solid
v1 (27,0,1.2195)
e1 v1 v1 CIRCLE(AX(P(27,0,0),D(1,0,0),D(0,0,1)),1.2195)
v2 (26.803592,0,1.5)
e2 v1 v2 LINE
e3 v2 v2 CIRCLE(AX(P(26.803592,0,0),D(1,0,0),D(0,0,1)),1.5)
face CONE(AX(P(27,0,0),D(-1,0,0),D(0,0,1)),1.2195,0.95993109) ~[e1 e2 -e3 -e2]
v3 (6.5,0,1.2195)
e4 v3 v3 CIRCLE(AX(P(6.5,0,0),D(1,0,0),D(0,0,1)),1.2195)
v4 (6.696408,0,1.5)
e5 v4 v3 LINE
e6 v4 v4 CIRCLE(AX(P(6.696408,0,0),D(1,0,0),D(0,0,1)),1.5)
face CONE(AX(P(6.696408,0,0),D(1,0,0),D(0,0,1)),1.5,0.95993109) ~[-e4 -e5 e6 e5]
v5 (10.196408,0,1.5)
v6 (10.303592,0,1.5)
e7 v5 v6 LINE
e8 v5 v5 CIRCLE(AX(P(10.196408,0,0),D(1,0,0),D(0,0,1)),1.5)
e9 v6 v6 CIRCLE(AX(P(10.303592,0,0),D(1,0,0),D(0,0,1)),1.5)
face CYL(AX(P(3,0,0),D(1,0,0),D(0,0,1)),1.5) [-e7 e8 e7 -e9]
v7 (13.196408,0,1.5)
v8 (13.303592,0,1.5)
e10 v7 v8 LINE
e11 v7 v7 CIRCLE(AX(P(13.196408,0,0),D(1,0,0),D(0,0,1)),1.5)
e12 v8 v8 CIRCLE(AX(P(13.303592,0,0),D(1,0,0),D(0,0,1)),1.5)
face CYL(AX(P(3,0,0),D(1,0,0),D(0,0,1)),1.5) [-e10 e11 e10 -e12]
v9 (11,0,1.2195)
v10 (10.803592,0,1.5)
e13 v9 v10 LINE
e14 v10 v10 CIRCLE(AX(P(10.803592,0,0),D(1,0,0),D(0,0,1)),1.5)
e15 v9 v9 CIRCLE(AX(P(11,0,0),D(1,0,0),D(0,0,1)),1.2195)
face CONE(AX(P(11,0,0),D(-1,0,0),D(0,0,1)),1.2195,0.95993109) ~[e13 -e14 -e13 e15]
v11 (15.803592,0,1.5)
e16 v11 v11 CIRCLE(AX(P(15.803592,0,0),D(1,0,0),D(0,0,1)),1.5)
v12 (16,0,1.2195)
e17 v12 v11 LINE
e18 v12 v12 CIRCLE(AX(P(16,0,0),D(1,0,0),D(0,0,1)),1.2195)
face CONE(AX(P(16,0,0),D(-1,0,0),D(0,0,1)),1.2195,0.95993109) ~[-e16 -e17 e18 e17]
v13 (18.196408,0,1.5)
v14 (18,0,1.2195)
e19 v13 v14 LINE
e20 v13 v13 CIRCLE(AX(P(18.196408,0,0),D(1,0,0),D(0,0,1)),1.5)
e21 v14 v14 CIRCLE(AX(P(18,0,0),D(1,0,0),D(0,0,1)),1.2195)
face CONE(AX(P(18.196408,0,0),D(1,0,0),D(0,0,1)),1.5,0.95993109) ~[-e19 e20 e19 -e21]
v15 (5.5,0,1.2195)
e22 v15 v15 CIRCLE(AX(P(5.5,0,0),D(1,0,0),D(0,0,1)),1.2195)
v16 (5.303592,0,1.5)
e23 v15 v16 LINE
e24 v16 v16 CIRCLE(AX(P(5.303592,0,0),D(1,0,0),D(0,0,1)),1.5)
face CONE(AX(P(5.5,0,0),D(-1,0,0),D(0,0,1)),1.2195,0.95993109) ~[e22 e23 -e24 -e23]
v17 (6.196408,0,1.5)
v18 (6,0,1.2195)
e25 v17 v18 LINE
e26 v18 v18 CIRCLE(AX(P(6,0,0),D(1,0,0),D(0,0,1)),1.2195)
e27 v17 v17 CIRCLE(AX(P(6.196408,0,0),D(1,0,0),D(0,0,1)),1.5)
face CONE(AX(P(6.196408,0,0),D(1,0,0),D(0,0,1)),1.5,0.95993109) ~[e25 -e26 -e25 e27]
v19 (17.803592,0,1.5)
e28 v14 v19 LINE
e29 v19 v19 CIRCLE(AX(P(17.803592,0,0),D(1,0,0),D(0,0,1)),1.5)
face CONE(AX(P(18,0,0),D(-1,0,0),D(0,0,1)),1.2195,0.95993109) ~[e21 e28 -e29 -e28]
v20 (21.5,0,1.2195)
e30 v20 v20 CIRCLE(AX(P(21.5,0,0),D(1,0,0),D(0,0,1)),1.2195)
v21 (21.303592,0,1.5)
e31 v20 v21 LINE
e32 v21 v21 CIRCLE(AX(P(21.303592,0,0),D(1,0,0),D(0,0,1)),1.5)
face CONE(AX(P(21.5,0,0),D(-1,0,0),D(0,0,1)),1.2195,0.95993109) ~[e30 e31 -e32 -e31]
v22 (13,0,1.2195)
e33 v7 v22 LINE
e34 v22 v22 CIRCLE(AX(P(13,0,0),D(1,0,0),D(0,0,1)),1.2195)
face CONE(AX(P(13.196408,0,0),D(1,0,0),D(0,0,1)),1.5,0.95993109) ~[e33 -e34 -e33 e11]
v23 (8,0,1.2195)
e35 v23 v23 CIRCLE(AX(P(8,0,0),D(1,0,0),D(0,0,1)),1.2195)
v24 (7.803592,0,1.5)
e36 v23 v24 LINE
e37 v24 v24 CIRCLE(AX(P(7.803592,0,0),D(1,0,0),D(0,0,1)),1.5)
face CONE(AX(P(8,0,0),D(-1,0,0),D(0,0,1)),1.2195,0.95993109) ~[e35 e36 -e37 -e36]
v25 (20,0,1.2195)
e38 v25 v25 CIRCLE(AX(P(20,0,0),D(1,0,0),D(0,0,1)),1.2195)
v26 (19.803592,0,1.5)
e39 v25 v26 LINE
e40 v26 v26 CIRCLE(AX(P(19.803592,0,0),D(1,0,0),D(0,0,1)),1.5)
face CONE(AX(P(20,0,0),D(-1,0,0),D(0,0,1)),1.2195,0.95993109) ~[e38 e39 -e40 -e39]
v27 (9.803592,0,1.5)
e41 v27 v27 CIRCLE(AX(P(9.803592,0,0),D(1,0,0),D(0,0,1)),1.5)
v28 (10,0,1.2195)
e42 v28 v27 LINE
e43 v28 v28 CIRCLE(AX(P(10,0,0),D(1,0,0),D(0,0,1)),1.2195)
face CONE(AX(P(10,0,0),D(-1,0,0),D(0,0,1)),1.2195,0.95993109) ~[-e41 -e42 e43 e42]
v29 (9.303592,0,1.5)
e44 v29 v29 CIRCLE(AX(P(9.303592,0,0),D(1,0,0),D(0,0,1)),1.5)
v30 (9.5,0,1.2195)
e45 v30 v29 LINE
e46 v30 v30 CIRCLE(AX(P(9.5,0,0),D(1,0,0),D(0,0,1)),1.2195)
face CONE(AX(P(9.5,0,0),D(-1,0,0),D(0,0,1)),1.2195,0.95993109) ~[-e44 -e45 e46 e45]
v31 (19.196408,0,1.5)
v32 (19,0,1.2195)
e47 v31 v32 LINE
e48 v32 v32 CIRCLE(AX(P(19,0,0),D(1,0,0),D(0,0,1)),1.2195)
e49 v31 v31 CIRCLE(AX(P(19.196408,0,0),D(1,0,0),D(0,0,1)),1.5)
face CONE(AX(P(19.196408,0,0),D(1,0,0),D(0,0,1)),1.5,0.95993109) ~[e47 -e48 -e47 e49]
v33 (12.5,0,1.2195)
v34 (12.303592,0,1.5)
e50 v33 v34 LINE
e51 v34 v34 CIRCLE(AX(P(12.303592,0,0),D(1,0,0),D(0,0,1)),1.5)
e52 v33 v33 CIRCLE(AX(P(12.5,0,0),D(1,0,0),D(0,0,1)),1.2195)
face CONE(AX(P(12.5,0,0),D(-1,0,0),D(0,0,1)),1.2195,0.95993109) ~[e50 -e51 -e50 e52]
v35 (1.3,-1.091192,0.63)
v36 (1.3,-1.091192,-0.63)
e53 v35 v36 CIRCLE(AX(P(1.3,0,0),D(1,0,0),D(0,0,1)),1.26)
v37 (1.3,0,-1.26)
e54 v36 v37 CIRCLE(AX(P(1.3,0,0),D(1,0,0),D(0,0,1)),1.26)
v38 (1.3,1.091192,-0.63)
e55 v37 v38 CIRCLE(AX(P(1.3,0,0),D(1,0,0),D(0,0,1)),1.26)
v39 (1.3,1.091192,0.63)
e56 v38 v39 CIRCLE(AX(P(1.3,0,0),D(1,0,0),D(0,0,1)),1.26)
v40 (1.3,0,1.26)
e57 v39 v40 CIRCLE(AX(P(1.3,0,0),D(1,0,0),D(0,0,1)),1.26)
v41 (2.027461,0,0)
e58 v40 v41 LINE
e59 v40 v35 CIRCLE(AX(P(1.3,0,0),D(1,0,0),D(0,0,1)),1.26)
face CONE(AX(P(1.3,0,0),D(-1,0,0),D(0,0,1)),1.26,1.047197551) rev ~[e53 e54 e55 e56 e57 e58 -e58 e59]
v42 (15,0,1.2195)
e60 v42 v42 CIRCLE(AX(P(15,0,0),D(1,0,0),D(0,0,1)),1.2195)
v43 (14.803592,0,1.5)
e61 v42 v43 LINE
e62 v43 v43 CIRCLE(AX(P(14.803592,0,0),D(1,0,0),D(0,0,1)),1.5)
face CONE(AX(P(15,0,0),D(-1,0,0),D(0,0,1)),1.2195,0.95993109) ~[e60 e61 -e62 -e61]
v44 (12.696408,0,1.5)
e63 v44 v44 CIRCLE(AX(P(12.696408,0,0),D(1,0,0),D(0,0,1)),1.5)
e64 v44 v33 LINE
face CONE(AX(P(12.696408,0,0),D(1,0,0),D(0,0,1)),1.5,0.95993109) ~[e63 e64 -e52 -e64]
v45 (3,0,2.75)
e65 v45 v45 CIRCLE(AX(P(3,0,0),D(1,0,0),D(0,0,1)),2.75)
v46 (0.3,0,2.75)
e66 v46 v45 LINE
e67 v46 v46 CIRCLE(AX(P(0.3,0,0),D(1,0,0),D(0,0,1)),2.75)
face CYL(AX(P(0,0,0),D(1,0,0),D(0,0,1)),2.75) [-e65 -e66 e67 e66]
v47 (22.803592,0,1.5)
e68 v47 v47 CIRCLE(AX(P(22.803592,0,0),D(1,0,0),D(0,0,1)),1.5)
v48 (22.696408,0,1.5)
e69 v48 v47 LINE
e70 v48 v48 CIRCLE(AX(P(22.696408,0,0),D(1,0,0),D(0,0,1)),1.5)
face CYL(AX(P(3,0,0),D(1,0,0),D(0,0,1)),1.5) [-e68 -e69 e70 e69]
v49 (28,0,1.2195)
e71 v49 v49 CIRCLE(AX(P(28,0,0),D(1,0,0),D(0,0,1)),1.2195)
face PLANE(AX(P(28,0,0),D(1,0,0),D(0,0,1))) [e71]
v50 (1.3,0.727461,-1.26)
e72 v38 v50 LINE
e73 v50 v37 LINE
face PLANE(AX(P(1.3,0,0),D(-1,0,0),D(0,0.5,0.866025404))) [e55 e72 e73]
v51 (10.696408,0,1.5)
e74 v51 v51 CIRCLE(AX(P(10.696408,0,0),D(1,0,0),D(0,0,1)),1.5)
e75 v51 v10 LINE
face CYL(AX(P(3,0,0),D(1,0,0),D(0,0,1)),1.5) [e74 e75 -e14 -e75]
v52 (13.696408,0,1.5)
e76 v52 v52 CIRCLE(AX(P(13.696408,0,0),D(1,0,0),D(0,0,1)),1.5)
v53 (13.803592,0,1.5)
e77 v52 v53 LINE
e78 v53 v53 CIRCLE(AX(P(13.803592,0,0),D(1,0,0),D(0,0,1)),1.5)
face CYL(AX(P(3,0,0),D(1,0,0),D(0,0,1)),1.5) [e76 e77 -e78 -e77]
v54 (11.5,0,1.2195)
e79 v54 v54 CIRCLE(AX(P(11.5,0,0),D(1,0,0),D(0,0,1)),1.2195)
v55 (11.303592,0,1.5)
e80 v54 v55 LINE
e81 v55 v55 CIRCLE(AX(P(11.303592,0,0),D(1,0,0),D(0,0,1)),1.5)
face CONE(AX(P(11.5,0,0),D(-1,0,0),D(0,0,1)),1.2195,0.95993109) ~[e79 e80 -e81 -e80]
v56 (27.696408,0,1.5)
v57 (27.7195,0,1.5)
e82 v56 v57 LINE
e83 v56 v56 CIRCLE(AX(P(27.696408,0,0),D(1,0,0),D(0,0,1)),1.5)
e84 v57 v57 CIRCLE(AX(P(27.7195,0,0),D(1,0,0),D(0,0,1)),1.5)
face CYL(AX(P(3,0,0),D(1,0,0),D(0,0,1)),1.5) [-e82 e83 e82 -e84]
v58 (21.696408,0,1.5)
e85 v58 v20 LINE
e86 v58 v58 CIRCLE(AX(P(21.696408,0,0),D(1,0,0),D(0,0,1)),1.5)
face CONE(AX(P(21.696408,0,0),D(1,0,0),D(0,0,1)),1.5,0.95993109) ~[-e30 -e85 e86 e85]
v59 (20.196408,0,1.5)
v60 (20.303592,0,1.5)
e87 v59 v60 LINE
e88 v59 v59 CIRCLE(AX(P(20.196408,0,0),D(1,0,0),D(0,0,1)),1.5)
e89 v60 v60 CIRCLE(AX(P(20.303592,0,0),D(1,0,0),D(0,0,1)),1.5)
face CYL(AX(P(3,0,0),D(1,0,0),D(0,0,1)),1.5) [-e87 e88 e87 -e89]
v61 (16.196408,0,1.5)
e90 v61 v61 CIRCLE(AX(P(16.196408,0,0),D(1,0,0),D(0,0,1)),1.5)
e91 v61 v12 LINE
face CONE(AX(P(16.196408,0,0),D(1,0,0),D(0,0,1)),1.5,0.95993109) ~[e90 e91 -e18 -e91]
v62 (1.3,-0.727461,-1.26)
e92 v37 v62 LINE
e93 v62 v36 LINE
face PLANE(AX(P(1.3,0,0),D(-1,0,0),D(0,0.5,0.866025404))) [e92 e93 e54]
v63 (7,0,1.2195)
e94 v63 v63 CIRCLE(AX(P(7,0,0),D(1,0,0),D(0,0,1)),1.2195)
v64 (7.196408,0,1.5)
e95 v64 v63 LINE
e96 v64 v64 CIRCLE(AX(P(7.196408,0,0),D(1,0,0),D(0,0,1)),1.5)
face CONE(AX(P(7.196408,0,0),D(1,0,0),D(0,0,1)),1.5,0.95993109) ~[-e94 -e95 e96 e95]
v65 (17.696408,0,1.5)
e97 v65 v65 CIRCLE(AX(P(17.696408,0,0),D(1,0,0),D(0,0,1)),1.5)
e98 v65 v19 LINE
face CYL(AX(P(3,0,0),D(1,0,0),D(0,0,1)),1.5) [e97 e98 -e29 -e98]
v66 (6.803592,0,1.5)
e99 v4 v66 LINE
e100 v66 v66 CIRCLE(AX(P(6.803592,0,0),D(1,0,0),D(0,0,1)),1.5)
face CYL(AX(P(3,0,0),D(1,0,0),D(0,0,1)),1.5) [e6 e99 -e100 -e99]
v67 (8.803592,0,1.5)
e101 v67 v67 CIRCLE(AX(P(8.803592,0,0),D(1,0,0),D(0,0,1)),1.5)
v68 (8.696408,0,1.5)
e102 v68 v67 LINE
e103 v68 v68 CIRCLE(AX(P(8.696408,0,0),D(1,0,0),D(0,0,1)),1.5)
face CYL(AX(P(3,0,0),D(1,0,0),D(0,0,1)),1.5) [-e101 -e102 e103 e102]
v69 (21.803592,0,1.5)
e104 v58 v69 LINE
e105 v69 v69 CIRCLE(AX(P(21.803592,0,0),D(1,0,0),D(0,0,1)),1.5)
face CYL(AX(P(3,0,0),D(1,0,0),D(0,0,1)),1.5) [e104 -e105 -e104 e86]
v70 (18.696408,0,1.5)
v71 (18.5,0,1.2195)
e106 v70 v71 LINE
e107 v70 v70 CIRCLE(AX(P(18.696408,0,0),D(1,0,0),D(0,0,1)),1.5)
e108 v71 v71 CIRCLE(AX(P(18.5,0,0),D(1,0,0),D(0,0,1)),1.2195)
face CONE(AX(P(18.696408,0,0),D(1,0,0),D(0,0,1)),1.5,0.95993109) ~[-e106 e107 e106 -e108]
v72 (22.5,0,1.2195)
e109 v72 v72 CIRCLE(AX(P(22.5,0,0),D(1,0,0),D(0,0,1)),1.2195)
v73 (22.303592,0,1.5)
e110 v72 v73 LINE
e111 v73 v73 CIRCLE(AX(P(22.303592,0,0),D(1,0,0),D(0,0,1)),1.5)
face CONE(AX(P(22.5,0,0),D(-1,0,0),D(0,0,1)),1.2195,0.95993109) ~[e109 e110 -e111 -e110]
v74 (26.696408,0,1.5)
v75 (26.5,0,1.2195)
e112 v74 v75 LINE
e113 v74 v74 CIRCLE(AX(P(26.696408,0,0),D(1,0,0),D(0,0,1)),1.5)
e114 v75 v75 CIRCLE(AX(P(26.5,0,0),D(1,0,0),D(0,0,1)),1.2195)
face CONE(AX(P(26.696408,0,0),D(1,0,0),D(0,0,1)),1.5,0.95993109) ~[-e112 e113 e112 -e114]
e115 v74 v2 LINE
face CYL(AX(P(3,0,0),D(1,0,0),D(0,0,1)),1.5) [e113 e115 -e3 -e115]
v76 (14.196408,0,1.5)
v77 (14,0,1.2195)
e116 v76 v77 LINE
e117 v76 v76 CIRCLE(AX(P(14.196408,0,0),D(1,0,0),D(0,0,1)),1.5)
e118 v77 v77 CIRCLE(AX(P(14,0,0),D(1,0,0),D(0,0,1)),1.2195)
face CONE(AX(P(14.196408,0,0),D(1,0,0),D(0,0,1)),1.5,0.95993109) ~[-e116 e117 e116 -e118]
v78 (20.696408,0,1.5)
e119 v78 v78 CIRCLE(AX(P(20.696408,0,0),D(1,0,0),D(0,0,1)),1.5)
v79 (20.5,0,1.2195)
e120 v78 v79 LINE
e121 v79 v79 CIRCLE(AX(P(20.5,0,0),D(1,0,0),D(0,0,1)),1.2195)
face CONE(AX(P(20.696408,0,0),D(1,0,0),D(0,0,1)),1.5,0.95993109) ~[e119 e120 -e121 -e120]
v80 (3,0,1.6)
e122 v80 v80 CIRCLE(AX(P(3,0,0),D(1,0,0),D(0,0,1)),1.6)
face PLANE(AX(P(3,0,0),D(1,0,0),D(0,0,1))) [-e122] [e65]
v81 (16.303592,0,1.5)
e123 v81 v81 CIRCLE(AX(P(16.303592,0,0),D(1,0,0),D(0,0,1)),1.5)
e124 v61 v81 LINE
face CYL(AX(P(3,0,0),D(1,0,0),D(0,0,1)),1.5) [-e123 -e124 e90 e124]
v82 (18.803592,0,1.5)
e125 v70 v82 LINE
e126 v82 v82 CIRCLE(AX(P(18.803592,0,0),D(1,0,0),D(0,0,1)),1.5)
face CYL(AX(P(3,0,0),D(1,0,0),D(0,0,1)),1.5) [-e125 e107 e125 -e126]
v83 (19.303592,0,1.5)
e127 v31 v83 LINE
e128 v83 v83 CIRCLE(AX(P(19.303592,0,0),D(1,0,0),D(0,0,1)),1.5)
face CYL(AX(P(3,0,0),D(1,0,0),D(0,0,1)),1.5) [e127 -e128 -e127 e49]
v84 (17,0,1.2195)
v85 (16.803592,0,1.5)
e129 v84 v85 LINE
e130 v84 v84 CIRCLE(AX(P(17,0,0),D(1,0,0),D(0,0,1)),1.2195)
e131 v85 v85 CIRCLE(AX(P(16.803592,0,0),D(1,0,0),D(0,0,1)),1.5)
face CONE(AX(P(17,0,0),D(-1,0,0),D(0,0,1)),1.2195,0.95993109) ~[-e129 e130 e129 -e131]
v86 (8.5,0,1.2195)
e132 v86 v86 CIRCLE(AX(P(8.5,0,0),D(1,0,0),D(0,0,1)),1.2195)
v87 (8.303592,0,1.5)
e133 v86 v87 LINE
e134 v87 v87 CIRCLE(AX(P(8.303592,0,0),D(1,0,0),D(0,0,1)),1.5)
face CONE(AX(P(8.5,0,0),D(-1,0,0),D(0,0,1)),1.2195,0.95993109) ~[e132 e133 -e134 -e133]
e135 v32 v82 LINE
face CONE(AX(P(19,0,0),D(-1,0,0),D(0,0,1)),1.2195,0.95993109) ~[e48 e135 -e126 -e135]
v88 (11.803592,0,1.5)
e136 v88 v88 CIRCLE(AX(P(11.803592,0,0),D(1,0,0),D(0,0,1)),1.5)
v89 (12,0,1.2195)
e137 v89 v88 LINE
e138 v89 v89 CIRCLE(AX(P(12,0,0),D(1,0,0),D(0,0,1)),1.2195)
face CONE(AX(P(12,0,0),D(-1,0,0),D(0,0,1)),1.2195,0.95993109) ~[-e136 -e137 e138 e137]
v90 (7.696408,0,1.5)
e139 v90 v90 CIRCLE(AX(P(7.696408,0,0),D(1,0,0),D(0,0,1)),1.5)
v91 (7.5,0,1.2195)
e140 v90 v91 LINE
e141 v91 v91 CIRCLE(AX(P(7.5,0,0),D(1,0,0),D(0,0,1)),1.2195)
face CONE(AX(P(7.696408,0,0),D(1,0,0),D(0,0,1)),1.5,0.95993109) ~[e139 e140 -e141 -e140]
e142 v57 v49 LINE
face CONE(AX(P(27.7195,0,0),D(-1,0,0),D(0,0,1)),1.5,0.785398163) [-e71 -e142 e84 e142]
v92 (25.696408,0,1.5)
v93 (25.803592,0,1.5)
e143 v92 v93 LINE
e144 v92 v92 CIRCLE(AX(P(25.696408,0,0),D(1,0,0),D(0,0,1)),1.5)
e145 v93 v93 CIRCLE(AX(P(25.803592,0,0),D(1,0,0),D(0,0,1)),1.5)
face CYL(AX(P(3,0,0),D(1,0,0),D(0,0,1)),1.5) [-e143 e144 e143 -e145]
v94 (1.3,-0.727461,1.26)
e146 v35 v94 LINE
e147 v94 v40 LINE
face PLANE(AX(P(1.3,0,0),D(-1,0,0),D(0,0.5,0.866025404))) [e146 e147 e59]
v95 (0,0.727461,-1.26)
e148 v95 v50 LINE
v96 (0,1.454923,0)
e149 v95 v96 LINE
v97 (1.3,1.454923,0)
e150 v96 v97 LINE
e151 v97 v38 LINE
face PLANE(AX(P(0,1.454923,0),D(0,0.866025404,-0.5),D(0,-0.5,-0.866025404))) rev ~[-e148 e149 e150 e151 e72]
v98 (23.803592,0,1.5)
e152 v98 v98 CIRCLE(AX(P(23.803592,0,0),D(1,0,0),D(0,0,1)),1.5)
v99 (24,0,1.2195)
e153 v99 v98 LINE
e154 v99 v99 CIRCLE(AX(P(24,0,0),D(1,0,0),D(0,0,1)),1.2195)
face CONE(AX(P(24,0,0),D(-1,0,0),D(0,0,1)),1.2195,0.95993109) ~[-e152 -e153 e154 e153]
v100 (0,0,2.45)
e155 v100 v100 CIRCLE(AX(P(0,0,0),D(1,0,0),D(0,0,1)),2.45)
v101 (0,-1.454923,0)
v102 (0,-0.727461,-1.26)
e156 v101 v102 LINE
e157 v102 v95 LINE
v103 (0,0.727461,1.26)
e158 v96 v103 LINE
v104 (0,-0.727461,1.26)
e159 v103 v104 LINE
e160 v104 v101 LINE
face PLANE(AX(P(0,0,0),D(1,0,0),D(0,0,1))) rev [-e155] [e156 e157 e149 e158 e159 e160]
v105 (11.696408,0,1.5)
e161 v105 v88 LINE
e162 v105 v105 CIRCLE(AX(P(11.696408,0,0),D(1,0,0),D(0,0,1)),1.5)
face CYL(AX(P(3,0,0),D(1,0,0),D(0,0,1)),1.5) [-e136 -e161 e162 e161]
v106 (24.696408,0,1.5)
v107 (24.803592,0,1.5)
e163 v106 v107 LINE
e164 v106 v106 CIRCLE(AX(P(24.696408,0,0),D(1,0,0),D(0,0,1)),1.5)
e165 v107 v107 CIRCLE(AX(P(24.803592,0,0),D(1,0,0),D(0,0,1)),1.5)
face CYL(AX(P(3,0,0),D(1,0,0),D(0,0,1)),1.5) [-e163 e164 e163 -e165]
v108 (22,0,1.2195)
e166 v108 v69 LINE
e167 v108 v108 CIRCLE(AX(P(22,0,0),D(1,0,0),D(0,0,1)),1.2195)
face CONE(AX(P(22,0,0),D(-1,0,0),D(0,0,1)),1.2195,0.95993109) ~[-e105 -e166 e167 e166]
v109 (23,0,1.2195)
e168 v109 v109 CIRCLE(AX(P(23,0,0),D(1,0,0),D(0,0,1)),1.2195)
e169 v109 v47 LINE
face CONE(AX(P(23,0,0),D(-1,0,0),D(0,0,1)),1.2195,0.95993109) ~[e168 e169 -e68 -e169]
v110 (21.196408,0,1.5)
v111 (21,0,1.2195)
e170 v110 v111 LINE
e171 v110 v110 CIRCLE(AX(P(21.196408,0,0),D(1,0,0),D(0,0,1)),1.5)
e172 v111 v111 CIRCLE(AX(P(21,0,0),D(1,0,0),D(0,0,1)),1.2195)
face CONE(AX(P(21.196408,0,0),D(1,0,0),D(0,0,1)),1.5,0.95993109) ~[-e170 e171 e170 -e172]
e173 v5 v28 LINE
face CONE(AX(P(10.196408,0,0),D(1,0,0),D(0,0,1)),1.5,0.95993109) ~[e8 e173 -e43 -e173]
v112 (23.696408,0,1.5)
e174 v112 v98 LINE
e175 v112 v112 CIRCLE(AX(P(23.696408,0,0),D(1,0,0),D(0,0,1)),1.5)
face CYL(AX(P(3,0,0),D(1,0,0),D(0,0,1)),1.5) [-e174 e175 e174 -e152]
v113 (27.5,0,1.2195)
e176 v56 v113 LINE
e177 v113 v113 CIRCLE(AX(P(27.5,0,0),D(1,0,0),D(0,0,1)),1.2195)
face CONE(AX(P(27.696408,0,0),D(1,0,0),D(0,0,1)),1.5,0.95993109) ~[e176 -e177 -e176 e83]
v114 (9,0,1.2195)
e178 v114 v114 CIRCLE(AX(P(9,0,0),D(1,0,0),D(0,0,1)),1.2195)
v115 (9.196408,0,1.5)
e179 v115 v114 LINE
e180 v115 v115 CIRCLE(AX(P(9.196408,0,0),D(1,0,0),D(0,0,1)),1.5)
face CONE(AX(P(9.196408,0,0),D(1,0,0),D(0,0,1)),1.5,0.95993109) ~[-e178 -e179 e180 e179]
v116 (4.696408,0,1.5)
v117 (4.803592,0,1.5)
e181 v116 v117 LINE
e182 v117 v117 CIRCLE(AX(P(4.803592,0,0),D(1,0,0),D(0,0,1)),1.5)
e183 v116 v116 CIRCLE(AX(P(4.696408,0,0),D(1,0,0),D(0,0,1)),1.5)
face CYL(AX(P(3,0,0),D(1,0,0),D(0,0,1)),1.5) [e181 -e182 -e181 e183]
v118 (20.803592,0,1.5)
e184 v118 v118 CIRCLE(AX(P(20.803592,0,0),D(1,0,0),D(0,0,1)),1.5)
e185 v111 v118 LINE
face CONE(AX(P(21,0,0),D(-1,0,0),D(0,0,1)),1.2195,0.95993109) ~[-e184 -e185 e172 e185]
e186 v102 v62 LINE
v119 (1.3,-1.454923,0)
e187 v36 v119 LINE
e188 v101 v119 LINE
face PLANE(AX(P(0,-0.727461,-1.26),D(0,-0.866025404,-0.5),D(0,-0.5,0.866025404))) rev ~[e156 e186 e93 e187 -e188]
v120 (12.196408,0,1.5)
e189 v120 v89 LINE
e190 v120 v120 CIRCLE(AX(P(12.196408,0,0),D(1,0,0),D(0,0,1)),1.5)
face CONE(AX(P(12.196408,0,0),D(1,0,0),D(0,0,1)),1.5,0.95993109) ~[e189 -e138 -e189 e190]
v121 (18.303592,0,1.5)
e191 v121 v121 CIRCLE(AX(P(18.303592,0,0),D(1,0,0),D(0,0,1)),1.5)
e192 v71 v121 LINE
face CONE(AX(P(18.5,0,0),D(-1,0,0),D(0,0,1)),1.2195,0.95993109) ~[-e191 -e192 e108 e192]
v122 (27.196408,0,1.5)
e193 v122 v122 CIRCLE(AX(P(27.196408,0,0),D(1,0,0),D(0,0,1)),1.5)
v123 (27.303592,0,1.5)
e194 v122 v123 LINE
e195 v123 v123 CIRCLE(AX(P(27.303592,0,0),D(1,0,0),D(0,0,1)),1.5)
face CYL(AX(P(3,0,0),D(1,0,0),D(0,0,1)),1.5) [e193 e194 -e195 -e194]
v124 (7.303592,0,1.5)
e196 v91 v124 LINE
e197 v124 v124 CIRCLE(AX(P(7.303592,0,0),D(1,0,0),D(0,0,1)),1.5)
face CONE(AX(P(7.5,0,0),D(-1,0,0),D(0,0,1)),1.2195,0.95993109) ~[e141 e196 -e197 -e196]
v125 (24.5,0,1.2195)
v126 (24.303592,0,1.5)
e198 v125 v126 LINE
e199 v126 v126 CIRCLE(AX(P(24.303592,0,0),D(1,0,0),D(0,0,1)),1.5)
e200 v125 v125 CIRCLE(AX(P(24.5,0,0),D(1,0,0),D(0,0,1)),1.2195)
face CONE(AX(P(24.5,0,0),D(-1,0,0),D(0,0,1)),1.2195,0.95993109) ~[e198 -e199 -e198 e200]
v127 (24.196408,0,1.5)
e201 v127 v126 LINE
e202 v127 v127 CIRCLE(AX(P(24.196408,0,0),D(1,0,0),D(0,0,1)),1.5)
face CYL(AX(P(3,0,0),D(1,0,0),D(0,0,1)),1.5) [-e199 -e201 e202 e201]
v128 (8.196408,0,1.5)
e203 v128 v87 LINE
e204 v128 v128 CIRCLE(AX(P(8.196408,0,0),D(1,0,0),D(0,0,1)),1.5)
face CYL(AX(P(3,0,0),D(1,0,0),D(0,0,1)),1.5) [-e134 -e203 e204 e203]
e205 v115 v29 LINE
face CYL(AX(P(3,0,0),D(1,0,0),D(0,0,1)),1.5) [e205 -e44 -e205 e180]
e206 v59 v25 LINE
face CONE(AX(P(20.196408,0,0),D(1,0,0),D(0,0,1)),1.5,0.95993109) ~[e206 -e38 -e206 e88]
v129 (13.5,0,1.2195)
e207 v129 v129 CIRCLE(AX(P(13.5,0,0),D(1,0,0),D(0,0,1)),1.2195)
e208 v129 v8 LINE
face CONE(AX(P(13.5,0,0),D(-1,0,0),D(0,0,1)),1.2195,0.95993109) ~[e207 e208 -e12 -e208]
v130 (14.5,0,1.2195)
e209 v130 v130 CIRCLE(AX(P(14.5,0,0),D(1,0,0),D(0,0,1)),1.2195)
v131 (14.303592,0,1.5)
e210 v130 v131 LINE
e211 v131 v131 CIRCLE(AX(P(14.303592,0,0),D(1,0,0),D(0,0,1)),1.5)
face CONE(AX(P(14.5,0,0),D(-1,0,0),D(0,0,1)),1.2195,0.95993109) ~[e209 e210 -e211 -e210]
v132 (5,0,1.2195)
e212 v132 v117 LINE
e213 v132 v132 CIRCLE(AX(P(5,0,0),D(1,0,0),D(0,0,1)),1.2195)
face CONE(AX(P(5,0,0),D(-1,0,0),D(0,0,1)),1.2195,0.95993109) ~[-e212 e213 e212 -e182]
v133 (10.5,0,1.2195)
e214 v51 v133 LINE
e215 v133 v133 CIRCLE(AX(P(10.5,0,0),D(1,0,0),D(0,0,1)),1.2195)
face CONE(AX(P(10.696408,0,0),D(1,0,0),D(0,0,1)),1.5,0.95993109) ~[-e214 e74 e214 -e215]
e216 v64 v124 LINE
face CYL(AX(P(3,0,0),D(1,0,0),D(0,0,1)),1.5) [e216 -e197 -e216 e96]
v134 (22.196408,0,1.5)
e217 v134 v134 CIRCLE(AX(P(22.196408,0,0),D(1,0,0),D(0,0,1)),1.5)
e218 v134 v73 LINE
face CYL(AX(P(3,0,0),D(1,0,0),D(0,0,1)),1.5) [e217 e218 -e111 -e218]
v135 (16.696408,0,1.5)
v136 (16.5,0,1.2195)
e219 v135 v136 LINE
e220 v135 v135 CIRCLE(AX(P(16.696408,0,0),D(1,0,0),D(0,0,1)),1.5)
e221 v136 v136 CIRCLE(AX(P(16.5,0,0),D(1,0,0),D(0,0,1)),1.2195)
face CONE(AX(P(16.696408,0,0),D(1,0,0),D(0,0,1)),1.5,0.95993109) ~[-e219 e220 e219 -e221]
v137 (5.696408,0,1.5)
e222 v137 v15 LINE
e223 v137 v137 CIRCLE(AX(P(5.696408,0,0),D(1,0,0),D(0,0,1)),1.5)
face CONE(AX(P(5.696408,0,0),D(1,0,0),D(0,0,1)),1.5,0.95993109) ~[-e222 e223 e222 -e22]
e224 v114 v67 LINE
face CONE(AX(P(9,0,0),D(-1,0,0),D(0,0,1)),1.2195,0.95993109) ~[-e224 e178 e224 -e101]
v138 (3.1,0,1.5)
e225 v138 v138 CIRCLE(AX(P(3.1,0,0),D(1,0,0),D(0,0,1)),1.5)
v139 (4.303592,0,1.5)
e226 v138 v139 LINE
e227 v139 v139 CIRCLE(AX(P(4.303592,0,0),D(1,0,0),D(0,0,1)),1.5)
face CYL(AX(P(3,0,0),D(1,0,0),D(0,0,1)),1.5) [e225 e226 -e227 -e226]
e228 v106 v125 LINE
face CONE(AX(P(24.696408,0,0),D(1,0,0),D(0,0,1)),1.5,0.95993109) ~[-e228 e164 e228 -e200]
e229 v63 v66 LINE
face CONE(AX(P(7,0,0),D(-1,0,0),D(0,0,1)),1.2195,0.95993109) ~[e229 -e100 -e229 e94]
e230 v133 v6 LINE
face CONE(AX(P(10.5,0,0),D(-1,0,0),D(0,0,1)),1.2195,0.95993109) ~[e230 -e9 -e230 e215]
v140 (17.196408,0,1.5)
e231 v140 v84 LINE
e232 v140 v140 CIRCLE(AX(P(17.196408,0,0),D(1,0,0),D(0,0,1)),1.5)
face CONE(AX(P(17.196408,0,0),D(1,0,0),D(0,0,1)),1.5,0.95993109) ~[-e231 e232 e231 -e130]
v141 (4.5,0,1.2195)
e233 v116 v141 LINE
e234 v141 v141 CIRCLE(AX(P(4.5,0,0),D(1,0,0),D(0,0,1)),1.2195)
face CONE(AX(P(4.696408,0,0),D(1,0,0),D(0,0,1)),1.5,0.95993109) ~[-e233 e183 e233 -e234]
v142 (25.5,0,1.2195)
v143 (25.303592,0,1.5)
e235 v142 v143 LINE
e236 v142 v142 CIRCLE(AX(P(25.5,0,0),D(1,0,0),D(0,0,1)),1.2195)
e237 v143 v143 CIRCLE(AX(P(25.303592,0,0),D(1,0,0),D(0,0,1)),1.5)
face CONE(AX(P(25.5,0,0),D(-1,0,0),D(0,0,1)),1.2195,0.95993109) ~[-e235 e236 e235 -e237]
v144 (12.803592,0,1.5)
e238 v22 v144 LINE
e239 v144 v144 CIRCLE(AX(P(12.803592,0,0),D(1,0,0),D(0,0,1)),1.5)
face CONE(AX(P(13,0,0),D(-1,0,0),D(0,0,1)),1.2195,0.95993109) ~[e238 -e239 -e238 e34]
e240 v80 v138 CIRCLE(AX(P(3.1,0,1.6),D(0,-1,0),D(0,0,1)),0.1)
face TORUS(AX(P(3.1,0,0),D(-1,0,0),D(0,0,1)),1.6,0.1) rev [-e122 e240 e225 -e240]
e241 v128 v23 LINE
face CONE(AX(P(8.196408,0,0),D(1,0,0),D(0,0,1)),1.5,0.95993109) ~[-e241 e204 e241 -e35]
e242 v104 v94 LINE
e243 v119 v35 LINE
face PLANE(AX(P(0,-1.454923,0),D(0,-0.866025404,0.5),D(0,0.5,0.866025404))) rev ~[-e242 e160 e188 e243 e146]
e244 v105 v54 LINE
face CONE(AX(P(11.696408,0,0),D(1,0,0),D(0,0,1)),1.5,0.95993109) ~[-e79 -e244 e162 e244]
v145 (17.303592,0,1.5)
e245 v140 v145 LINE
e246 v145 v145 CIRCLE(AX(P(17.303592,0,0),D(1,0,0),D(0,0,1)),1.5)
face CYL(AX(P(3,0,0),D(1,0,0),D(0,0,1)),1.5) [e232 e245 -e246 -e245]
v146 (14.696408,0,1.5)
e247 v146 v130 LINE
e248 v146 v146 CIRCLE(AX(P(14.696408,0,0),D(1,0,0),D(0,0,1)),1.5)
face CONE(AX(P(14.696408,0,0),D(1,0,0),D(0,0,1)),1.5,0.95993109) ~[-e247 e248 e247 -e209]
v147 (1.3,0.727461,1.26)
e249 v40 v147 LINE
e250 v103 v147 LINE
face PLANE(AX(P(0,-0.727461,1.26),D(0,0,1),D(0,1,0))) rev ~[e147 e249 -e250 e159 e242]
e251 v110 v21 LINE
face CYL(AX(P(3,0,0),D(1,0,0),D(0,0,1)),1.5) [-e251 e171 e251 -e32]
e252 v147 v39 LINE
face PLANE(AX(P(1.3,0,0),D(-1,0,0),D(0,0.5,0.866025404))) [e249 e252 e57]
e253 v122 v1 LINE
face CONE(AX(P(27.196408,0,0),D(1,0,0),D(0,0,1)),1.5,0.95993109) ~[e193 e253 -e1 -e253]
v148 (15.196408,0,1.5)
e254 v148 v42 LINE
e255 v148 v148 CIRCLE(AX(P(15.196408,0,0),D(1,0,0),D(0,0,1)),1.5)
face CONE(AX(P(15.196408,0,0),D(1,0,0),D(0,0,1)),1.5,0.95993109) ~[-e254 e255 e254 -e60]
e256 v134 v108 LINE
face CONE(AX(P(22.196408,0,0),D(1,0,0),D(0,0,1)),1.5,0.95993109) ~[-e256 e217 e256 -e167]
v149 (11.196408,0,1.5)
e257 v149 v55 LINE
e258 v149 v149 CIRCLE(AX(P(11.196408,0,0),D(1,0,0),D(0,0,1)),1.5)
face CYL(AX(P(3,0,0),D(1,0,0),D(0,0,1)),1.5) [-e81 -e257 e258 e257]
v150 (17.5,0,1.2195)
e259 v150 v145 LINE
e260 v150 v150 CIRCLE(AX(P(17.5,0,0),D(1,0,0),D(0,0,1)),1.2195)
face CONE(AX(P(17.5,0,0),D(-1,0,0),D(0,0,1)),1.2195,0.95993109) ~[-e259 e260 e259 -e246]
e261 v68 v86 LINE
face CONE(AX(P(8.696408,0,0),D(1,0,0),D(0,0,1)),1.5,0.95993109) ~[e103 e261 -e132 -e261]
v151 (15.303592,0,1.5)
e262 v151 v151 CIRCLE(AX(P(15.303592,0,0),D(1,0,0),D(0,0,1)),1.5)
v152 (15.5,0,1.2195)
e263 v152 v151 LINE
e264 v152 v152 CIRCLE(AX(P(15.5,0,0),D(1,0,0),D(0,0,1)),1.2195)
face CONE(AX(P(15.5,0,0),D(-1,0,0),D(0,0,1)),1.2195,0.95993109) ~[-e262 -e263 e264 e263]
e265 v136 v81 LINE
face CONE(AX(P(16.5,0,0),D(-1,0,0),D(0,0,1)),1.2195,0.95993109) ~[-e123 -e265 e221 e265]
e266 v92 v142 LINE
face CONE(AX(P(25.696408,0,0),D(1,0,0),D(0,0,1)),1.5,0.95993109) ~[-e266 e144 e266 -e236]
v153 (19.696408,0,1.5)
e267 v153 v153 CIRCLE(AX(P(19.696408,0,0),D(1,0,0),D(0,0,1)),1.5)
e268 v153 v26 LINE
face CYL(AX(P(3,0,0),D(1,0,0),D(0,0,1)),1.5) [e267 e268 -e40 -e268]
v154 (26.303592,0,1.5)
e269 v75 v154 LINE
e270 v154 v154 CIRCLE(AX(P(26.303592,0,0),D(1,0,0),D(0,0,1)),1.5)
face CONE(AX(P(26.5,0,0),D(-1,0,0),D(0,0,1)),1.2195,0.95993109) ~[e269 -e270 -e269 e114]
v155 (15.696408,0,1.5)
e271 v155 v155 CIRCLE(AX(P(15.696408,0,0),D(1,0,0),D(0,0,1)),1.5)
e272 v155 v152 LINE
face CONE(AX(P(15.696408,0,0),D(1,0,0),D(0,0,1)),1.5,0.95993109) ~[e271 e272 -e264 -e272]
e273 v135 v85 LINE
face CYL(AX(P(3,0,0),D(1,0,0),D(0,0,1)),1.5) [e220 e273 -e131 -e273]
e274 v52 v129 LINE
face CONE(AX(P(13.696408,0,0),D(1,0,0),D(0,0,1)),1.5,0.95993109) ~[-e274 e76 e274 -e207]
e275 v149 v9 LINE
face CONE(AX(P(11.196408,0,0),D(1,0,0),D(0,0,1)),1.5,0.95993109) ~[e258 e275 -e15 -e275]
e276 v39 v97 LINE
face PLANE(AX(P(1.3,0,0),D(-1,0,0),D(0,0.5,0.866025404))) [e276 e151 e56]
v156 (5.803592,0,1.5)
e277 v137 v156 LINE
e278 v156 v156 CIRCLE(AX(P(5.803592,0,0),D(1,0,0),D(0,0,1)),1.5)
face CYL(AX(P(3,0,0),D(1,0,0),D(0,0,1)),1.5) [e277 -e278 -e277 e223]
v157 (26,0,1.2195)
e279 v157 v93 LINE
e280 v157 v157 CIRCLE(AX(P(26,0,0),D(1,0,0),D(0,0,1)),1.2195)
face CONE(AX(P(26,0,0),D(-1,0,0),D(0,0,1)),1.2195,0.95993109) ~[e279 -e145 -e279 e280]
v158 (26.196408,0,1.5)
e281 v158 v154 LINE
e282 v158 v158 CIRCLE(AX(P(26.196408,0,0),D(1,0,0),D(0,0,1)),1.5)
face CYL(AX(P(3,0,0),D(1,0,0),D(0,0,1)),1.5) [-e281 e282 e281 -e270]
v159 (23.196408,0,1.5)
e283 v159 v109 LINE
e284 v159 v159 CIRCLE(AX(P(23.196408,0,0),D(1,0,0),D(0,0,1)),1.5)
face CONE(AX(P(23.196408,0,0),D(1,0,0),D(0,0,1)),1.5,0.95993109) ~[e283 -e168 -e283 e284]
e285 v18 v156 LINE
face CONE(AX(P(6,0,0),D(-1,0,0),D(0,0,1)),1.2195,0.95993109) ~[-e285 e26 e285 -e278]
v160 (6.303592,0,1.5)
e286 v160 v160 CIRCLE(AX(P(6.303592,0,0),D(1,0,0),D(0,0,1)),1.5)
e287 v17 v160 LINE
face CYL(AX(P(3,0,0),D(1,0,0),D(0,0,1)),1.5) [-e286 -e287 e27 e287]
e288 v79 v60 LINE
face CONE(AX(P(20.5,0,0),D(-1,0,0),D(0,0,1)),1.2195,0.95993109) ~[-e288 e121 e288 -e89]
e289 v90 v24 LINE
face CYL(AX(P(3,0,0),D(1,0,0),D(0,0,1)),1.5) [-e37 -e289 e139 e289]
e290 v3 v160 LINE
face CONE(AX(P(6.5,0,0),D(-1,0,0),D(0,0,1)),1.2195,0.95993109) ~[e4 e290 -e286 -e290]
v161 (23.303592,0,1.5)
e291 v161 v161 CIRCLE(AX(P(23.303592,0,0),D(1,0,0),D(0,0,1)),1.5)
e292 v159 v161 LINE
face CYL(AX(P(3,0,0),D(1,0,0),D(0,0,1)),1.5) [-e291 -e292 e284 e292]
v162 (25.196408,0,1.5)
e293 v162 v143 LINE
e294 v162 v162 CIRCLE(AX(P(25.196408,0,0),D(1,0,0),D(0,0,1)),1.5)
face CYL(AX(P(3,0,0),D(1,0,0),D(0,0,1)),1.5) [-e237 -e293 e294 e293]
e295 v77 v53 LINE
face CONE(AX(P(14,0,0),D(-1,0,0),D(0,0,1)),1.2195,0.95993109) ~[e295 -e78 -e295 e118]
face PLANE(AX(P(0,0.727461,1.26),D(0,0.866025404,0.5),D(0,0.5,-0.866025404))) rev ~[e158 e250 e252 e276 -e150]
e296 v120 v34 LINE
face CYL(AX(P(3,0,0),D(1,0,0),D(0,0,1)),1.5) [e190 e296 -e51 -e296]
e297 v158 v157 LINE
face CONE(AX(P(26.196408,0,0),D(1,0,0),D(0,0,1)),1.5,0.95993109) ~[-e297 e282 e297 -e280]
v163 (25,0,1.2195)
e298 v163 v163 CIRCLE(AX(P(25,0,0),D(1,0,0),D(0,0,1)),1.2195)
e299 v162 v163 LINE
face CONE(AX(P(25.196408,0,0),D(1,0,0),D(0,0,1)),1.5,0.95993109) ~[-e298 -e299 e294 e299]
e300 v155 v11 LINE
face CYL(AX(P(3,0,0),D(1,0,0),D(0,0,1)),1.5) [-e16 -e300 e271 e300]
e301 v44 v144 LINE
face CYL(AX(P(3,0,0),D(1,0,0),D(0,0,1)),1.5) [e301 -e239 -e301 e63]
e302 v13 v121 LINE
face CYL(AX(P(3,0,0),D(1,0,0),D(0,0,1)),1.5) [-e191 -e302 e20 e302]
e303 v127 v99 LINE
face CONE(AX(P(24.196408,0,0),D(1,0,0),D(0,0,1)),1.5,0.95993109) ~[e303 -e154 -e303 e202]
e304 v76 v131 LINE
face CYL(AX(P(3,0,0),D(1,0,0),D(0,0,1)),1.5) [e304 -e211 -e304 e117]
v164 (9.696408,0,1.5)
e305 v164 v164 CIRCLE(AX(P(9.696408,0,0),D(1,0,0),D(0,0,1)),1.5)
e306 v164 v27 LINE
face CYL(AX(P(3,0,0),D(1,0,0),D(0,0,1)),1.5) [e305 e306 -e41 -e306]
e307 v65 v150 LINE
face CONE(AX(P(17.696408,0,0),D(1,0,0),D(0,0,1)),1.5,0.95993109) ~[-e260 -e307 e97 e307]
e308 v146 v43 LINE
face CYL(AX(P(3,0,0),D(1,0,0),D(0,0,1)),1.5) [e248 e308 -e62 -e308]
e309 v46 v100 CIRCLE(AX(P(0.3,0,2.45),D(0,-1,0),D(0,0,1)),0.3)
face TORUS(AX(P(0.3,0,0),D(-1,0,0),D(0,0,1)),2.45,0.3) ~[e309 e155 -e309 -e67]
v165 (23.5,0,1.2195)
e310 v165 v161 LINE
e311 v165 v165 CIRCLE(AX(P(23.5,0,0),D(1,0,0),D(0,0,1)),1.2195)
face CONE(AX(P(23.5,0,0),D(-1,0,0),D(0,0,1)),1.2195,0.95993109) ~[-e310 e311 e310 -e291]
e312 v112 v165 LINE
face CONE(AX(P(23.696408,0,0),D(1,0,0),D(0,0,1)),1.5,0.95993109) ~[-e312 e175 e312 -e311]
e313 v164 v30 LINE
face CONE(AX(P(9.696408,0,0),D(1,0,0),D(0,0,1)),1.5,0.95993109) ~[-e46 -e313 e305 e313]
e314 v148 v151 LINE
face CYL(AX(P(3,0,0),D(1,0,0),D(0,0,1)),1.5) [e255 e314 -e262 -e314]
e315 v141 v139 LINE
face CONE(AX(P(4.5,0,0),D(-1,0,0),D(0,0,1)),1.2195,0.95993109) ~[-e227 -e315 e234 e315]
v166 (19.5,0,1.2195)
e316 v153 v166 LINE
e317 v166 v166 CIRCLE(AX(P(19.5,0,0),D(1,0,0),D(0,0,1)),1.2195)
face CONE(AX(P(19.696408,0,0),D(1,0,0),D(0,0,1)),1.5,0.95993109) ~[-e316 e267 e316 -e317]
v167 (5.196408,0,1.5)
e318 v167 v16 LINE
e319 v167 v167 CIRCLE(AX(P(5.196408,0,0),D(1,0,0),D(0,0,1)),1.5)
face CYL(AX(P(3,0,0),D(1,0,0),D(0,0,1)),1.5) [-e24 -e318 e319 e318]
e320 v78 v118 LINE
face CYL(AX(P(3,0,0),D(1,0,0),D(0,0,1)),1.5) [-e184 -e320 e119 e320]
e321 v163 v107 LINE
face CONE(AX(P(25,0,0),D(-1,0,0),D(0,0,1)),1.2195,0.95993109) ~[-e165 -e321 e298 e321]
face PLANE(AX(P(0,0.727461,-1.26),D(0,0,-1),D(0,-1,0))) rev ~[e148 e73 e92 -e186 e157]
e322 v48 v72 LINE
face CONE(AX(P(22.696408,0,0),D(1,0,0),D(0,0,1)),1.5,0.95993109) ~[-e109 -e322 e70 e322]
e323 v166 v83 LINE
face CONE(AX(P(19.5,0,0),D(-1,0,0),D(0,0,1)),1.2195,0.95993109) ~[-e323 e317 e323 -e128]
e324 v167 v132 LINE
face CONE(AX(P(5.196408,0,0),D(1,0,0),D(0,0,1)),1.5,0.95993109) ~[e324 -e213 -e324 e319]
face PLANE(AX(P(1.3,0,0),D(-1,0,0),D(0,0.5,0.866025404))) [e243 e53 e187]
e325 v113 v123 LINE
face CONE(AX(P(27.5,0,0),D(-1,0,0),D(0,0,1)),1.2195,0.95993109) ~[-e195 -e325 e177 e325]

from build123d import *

# Parameters (mm, degrees)
FILLET1_R       = 0.1
FILLET2_R       = 0.3
HEX_2_DEPTH     = 1.3
THDSCHPAT_COUNT = 47
THDSCHPAT_PITCH = 0.5


with BuildPart() as part:
    # BodySke → Base-Revolve (revolve)
    with BuildSketch(Plane.XY, mode=Mode.PRIVATE) as base_revolve_sk:
        Polygon((0, 0), (0, 2.75), (3, 2.75), (3, 1.5), (27.7195, 1.5), (28, 1.2195), (28, 0), align=None)
    revolve(base_revolve_sk.sketch.rotate(Axis((-31.75, 0, 0), (1, 0, 0)), 90), axis=Axis((-31.75, 0, 0), (1, 0, 0)))  # turned: the seam where the file's is

    # Fillet1
    fillet1_edges = [part.edges().sort_by_distance(p)[0] for p in [
        (3, 0, -1.5),
    ]]
    fillet(fillet1_edges, radius=FILLET1_R)

    # Fillet2
    fillet2_edges = [part.edges().sort_by_distance(p)[0] for p in [
        (0, 0, -2.75),
    ]]
    fillet(fillet2_edges, radius=FILLET2_R)

    # Sketch2 → Hex-PreBroach (revolve, cut)
    with BuildSketch(Plane.XY, mode=Mode.PRIVATE) as hex_prebroach_sk:
        Polygon((0, 1.26), (1.3, 1.26), (2.027461339, 0), (0, 0), align=None)
    revolve(hex_prebroach_sk.sketch.rotate(Axis((0, 0, 0), (1, 0, 0)), 90), axis=Axis((0, 0, 0), (1, 0, 0)), mode=Mode.SUBTRACT)  # turned: the seam where the file's is

    # Sketch3 → Hex 2 (cut)
    with BuildSketch(Plane(origin=(0, 0, 0), x_dir=(0, 0.5, 0.866025404), z_dir=(-1, 0, 0))):
        Polygon((0.727461339, 1.26), (-0.727461339, 1.26), (-1.454922678, 0), (-0.727461339, -1.26), (0.727461339, -1.26), (1.454922678, 0), align=None)
    extrude(amount=-HEX_2_DEPTH, mode=Mode.SUBTRACT)

    # ThdSchSke → ThreadSchematic (revolve, cut)
    with BuildSketch(Plane.XY, mode=Mode.PRIVATE) as threadschematic_sk:
        Polygon((4.5, -1.2195), (4.303591786, -1.5), (4.303591786, -1.875), (4.696408214, -1.875), (4.696408214, -1.5), align=None)
    threadschematic = revolve(threadschematic_sk.sketch.rotate(Axis((-3.175, 0, 0), (1, 0, 0)), 270), axis=Axis((-3.175, 0, 0), (1, 0, 0)), mode=Mode.SUBTRACT)  # turned: the seam where the file's is

    # ThdSchPat: ThreadSchematic ×47
    with Locations(*[(i * THDSCHPAT_PITCH, 0, 0) for i in range(1, THDSCHPAT_COUNT)]):
        add(threadschematic, mode=Mode.SUBTRACT)


solid = part.part
